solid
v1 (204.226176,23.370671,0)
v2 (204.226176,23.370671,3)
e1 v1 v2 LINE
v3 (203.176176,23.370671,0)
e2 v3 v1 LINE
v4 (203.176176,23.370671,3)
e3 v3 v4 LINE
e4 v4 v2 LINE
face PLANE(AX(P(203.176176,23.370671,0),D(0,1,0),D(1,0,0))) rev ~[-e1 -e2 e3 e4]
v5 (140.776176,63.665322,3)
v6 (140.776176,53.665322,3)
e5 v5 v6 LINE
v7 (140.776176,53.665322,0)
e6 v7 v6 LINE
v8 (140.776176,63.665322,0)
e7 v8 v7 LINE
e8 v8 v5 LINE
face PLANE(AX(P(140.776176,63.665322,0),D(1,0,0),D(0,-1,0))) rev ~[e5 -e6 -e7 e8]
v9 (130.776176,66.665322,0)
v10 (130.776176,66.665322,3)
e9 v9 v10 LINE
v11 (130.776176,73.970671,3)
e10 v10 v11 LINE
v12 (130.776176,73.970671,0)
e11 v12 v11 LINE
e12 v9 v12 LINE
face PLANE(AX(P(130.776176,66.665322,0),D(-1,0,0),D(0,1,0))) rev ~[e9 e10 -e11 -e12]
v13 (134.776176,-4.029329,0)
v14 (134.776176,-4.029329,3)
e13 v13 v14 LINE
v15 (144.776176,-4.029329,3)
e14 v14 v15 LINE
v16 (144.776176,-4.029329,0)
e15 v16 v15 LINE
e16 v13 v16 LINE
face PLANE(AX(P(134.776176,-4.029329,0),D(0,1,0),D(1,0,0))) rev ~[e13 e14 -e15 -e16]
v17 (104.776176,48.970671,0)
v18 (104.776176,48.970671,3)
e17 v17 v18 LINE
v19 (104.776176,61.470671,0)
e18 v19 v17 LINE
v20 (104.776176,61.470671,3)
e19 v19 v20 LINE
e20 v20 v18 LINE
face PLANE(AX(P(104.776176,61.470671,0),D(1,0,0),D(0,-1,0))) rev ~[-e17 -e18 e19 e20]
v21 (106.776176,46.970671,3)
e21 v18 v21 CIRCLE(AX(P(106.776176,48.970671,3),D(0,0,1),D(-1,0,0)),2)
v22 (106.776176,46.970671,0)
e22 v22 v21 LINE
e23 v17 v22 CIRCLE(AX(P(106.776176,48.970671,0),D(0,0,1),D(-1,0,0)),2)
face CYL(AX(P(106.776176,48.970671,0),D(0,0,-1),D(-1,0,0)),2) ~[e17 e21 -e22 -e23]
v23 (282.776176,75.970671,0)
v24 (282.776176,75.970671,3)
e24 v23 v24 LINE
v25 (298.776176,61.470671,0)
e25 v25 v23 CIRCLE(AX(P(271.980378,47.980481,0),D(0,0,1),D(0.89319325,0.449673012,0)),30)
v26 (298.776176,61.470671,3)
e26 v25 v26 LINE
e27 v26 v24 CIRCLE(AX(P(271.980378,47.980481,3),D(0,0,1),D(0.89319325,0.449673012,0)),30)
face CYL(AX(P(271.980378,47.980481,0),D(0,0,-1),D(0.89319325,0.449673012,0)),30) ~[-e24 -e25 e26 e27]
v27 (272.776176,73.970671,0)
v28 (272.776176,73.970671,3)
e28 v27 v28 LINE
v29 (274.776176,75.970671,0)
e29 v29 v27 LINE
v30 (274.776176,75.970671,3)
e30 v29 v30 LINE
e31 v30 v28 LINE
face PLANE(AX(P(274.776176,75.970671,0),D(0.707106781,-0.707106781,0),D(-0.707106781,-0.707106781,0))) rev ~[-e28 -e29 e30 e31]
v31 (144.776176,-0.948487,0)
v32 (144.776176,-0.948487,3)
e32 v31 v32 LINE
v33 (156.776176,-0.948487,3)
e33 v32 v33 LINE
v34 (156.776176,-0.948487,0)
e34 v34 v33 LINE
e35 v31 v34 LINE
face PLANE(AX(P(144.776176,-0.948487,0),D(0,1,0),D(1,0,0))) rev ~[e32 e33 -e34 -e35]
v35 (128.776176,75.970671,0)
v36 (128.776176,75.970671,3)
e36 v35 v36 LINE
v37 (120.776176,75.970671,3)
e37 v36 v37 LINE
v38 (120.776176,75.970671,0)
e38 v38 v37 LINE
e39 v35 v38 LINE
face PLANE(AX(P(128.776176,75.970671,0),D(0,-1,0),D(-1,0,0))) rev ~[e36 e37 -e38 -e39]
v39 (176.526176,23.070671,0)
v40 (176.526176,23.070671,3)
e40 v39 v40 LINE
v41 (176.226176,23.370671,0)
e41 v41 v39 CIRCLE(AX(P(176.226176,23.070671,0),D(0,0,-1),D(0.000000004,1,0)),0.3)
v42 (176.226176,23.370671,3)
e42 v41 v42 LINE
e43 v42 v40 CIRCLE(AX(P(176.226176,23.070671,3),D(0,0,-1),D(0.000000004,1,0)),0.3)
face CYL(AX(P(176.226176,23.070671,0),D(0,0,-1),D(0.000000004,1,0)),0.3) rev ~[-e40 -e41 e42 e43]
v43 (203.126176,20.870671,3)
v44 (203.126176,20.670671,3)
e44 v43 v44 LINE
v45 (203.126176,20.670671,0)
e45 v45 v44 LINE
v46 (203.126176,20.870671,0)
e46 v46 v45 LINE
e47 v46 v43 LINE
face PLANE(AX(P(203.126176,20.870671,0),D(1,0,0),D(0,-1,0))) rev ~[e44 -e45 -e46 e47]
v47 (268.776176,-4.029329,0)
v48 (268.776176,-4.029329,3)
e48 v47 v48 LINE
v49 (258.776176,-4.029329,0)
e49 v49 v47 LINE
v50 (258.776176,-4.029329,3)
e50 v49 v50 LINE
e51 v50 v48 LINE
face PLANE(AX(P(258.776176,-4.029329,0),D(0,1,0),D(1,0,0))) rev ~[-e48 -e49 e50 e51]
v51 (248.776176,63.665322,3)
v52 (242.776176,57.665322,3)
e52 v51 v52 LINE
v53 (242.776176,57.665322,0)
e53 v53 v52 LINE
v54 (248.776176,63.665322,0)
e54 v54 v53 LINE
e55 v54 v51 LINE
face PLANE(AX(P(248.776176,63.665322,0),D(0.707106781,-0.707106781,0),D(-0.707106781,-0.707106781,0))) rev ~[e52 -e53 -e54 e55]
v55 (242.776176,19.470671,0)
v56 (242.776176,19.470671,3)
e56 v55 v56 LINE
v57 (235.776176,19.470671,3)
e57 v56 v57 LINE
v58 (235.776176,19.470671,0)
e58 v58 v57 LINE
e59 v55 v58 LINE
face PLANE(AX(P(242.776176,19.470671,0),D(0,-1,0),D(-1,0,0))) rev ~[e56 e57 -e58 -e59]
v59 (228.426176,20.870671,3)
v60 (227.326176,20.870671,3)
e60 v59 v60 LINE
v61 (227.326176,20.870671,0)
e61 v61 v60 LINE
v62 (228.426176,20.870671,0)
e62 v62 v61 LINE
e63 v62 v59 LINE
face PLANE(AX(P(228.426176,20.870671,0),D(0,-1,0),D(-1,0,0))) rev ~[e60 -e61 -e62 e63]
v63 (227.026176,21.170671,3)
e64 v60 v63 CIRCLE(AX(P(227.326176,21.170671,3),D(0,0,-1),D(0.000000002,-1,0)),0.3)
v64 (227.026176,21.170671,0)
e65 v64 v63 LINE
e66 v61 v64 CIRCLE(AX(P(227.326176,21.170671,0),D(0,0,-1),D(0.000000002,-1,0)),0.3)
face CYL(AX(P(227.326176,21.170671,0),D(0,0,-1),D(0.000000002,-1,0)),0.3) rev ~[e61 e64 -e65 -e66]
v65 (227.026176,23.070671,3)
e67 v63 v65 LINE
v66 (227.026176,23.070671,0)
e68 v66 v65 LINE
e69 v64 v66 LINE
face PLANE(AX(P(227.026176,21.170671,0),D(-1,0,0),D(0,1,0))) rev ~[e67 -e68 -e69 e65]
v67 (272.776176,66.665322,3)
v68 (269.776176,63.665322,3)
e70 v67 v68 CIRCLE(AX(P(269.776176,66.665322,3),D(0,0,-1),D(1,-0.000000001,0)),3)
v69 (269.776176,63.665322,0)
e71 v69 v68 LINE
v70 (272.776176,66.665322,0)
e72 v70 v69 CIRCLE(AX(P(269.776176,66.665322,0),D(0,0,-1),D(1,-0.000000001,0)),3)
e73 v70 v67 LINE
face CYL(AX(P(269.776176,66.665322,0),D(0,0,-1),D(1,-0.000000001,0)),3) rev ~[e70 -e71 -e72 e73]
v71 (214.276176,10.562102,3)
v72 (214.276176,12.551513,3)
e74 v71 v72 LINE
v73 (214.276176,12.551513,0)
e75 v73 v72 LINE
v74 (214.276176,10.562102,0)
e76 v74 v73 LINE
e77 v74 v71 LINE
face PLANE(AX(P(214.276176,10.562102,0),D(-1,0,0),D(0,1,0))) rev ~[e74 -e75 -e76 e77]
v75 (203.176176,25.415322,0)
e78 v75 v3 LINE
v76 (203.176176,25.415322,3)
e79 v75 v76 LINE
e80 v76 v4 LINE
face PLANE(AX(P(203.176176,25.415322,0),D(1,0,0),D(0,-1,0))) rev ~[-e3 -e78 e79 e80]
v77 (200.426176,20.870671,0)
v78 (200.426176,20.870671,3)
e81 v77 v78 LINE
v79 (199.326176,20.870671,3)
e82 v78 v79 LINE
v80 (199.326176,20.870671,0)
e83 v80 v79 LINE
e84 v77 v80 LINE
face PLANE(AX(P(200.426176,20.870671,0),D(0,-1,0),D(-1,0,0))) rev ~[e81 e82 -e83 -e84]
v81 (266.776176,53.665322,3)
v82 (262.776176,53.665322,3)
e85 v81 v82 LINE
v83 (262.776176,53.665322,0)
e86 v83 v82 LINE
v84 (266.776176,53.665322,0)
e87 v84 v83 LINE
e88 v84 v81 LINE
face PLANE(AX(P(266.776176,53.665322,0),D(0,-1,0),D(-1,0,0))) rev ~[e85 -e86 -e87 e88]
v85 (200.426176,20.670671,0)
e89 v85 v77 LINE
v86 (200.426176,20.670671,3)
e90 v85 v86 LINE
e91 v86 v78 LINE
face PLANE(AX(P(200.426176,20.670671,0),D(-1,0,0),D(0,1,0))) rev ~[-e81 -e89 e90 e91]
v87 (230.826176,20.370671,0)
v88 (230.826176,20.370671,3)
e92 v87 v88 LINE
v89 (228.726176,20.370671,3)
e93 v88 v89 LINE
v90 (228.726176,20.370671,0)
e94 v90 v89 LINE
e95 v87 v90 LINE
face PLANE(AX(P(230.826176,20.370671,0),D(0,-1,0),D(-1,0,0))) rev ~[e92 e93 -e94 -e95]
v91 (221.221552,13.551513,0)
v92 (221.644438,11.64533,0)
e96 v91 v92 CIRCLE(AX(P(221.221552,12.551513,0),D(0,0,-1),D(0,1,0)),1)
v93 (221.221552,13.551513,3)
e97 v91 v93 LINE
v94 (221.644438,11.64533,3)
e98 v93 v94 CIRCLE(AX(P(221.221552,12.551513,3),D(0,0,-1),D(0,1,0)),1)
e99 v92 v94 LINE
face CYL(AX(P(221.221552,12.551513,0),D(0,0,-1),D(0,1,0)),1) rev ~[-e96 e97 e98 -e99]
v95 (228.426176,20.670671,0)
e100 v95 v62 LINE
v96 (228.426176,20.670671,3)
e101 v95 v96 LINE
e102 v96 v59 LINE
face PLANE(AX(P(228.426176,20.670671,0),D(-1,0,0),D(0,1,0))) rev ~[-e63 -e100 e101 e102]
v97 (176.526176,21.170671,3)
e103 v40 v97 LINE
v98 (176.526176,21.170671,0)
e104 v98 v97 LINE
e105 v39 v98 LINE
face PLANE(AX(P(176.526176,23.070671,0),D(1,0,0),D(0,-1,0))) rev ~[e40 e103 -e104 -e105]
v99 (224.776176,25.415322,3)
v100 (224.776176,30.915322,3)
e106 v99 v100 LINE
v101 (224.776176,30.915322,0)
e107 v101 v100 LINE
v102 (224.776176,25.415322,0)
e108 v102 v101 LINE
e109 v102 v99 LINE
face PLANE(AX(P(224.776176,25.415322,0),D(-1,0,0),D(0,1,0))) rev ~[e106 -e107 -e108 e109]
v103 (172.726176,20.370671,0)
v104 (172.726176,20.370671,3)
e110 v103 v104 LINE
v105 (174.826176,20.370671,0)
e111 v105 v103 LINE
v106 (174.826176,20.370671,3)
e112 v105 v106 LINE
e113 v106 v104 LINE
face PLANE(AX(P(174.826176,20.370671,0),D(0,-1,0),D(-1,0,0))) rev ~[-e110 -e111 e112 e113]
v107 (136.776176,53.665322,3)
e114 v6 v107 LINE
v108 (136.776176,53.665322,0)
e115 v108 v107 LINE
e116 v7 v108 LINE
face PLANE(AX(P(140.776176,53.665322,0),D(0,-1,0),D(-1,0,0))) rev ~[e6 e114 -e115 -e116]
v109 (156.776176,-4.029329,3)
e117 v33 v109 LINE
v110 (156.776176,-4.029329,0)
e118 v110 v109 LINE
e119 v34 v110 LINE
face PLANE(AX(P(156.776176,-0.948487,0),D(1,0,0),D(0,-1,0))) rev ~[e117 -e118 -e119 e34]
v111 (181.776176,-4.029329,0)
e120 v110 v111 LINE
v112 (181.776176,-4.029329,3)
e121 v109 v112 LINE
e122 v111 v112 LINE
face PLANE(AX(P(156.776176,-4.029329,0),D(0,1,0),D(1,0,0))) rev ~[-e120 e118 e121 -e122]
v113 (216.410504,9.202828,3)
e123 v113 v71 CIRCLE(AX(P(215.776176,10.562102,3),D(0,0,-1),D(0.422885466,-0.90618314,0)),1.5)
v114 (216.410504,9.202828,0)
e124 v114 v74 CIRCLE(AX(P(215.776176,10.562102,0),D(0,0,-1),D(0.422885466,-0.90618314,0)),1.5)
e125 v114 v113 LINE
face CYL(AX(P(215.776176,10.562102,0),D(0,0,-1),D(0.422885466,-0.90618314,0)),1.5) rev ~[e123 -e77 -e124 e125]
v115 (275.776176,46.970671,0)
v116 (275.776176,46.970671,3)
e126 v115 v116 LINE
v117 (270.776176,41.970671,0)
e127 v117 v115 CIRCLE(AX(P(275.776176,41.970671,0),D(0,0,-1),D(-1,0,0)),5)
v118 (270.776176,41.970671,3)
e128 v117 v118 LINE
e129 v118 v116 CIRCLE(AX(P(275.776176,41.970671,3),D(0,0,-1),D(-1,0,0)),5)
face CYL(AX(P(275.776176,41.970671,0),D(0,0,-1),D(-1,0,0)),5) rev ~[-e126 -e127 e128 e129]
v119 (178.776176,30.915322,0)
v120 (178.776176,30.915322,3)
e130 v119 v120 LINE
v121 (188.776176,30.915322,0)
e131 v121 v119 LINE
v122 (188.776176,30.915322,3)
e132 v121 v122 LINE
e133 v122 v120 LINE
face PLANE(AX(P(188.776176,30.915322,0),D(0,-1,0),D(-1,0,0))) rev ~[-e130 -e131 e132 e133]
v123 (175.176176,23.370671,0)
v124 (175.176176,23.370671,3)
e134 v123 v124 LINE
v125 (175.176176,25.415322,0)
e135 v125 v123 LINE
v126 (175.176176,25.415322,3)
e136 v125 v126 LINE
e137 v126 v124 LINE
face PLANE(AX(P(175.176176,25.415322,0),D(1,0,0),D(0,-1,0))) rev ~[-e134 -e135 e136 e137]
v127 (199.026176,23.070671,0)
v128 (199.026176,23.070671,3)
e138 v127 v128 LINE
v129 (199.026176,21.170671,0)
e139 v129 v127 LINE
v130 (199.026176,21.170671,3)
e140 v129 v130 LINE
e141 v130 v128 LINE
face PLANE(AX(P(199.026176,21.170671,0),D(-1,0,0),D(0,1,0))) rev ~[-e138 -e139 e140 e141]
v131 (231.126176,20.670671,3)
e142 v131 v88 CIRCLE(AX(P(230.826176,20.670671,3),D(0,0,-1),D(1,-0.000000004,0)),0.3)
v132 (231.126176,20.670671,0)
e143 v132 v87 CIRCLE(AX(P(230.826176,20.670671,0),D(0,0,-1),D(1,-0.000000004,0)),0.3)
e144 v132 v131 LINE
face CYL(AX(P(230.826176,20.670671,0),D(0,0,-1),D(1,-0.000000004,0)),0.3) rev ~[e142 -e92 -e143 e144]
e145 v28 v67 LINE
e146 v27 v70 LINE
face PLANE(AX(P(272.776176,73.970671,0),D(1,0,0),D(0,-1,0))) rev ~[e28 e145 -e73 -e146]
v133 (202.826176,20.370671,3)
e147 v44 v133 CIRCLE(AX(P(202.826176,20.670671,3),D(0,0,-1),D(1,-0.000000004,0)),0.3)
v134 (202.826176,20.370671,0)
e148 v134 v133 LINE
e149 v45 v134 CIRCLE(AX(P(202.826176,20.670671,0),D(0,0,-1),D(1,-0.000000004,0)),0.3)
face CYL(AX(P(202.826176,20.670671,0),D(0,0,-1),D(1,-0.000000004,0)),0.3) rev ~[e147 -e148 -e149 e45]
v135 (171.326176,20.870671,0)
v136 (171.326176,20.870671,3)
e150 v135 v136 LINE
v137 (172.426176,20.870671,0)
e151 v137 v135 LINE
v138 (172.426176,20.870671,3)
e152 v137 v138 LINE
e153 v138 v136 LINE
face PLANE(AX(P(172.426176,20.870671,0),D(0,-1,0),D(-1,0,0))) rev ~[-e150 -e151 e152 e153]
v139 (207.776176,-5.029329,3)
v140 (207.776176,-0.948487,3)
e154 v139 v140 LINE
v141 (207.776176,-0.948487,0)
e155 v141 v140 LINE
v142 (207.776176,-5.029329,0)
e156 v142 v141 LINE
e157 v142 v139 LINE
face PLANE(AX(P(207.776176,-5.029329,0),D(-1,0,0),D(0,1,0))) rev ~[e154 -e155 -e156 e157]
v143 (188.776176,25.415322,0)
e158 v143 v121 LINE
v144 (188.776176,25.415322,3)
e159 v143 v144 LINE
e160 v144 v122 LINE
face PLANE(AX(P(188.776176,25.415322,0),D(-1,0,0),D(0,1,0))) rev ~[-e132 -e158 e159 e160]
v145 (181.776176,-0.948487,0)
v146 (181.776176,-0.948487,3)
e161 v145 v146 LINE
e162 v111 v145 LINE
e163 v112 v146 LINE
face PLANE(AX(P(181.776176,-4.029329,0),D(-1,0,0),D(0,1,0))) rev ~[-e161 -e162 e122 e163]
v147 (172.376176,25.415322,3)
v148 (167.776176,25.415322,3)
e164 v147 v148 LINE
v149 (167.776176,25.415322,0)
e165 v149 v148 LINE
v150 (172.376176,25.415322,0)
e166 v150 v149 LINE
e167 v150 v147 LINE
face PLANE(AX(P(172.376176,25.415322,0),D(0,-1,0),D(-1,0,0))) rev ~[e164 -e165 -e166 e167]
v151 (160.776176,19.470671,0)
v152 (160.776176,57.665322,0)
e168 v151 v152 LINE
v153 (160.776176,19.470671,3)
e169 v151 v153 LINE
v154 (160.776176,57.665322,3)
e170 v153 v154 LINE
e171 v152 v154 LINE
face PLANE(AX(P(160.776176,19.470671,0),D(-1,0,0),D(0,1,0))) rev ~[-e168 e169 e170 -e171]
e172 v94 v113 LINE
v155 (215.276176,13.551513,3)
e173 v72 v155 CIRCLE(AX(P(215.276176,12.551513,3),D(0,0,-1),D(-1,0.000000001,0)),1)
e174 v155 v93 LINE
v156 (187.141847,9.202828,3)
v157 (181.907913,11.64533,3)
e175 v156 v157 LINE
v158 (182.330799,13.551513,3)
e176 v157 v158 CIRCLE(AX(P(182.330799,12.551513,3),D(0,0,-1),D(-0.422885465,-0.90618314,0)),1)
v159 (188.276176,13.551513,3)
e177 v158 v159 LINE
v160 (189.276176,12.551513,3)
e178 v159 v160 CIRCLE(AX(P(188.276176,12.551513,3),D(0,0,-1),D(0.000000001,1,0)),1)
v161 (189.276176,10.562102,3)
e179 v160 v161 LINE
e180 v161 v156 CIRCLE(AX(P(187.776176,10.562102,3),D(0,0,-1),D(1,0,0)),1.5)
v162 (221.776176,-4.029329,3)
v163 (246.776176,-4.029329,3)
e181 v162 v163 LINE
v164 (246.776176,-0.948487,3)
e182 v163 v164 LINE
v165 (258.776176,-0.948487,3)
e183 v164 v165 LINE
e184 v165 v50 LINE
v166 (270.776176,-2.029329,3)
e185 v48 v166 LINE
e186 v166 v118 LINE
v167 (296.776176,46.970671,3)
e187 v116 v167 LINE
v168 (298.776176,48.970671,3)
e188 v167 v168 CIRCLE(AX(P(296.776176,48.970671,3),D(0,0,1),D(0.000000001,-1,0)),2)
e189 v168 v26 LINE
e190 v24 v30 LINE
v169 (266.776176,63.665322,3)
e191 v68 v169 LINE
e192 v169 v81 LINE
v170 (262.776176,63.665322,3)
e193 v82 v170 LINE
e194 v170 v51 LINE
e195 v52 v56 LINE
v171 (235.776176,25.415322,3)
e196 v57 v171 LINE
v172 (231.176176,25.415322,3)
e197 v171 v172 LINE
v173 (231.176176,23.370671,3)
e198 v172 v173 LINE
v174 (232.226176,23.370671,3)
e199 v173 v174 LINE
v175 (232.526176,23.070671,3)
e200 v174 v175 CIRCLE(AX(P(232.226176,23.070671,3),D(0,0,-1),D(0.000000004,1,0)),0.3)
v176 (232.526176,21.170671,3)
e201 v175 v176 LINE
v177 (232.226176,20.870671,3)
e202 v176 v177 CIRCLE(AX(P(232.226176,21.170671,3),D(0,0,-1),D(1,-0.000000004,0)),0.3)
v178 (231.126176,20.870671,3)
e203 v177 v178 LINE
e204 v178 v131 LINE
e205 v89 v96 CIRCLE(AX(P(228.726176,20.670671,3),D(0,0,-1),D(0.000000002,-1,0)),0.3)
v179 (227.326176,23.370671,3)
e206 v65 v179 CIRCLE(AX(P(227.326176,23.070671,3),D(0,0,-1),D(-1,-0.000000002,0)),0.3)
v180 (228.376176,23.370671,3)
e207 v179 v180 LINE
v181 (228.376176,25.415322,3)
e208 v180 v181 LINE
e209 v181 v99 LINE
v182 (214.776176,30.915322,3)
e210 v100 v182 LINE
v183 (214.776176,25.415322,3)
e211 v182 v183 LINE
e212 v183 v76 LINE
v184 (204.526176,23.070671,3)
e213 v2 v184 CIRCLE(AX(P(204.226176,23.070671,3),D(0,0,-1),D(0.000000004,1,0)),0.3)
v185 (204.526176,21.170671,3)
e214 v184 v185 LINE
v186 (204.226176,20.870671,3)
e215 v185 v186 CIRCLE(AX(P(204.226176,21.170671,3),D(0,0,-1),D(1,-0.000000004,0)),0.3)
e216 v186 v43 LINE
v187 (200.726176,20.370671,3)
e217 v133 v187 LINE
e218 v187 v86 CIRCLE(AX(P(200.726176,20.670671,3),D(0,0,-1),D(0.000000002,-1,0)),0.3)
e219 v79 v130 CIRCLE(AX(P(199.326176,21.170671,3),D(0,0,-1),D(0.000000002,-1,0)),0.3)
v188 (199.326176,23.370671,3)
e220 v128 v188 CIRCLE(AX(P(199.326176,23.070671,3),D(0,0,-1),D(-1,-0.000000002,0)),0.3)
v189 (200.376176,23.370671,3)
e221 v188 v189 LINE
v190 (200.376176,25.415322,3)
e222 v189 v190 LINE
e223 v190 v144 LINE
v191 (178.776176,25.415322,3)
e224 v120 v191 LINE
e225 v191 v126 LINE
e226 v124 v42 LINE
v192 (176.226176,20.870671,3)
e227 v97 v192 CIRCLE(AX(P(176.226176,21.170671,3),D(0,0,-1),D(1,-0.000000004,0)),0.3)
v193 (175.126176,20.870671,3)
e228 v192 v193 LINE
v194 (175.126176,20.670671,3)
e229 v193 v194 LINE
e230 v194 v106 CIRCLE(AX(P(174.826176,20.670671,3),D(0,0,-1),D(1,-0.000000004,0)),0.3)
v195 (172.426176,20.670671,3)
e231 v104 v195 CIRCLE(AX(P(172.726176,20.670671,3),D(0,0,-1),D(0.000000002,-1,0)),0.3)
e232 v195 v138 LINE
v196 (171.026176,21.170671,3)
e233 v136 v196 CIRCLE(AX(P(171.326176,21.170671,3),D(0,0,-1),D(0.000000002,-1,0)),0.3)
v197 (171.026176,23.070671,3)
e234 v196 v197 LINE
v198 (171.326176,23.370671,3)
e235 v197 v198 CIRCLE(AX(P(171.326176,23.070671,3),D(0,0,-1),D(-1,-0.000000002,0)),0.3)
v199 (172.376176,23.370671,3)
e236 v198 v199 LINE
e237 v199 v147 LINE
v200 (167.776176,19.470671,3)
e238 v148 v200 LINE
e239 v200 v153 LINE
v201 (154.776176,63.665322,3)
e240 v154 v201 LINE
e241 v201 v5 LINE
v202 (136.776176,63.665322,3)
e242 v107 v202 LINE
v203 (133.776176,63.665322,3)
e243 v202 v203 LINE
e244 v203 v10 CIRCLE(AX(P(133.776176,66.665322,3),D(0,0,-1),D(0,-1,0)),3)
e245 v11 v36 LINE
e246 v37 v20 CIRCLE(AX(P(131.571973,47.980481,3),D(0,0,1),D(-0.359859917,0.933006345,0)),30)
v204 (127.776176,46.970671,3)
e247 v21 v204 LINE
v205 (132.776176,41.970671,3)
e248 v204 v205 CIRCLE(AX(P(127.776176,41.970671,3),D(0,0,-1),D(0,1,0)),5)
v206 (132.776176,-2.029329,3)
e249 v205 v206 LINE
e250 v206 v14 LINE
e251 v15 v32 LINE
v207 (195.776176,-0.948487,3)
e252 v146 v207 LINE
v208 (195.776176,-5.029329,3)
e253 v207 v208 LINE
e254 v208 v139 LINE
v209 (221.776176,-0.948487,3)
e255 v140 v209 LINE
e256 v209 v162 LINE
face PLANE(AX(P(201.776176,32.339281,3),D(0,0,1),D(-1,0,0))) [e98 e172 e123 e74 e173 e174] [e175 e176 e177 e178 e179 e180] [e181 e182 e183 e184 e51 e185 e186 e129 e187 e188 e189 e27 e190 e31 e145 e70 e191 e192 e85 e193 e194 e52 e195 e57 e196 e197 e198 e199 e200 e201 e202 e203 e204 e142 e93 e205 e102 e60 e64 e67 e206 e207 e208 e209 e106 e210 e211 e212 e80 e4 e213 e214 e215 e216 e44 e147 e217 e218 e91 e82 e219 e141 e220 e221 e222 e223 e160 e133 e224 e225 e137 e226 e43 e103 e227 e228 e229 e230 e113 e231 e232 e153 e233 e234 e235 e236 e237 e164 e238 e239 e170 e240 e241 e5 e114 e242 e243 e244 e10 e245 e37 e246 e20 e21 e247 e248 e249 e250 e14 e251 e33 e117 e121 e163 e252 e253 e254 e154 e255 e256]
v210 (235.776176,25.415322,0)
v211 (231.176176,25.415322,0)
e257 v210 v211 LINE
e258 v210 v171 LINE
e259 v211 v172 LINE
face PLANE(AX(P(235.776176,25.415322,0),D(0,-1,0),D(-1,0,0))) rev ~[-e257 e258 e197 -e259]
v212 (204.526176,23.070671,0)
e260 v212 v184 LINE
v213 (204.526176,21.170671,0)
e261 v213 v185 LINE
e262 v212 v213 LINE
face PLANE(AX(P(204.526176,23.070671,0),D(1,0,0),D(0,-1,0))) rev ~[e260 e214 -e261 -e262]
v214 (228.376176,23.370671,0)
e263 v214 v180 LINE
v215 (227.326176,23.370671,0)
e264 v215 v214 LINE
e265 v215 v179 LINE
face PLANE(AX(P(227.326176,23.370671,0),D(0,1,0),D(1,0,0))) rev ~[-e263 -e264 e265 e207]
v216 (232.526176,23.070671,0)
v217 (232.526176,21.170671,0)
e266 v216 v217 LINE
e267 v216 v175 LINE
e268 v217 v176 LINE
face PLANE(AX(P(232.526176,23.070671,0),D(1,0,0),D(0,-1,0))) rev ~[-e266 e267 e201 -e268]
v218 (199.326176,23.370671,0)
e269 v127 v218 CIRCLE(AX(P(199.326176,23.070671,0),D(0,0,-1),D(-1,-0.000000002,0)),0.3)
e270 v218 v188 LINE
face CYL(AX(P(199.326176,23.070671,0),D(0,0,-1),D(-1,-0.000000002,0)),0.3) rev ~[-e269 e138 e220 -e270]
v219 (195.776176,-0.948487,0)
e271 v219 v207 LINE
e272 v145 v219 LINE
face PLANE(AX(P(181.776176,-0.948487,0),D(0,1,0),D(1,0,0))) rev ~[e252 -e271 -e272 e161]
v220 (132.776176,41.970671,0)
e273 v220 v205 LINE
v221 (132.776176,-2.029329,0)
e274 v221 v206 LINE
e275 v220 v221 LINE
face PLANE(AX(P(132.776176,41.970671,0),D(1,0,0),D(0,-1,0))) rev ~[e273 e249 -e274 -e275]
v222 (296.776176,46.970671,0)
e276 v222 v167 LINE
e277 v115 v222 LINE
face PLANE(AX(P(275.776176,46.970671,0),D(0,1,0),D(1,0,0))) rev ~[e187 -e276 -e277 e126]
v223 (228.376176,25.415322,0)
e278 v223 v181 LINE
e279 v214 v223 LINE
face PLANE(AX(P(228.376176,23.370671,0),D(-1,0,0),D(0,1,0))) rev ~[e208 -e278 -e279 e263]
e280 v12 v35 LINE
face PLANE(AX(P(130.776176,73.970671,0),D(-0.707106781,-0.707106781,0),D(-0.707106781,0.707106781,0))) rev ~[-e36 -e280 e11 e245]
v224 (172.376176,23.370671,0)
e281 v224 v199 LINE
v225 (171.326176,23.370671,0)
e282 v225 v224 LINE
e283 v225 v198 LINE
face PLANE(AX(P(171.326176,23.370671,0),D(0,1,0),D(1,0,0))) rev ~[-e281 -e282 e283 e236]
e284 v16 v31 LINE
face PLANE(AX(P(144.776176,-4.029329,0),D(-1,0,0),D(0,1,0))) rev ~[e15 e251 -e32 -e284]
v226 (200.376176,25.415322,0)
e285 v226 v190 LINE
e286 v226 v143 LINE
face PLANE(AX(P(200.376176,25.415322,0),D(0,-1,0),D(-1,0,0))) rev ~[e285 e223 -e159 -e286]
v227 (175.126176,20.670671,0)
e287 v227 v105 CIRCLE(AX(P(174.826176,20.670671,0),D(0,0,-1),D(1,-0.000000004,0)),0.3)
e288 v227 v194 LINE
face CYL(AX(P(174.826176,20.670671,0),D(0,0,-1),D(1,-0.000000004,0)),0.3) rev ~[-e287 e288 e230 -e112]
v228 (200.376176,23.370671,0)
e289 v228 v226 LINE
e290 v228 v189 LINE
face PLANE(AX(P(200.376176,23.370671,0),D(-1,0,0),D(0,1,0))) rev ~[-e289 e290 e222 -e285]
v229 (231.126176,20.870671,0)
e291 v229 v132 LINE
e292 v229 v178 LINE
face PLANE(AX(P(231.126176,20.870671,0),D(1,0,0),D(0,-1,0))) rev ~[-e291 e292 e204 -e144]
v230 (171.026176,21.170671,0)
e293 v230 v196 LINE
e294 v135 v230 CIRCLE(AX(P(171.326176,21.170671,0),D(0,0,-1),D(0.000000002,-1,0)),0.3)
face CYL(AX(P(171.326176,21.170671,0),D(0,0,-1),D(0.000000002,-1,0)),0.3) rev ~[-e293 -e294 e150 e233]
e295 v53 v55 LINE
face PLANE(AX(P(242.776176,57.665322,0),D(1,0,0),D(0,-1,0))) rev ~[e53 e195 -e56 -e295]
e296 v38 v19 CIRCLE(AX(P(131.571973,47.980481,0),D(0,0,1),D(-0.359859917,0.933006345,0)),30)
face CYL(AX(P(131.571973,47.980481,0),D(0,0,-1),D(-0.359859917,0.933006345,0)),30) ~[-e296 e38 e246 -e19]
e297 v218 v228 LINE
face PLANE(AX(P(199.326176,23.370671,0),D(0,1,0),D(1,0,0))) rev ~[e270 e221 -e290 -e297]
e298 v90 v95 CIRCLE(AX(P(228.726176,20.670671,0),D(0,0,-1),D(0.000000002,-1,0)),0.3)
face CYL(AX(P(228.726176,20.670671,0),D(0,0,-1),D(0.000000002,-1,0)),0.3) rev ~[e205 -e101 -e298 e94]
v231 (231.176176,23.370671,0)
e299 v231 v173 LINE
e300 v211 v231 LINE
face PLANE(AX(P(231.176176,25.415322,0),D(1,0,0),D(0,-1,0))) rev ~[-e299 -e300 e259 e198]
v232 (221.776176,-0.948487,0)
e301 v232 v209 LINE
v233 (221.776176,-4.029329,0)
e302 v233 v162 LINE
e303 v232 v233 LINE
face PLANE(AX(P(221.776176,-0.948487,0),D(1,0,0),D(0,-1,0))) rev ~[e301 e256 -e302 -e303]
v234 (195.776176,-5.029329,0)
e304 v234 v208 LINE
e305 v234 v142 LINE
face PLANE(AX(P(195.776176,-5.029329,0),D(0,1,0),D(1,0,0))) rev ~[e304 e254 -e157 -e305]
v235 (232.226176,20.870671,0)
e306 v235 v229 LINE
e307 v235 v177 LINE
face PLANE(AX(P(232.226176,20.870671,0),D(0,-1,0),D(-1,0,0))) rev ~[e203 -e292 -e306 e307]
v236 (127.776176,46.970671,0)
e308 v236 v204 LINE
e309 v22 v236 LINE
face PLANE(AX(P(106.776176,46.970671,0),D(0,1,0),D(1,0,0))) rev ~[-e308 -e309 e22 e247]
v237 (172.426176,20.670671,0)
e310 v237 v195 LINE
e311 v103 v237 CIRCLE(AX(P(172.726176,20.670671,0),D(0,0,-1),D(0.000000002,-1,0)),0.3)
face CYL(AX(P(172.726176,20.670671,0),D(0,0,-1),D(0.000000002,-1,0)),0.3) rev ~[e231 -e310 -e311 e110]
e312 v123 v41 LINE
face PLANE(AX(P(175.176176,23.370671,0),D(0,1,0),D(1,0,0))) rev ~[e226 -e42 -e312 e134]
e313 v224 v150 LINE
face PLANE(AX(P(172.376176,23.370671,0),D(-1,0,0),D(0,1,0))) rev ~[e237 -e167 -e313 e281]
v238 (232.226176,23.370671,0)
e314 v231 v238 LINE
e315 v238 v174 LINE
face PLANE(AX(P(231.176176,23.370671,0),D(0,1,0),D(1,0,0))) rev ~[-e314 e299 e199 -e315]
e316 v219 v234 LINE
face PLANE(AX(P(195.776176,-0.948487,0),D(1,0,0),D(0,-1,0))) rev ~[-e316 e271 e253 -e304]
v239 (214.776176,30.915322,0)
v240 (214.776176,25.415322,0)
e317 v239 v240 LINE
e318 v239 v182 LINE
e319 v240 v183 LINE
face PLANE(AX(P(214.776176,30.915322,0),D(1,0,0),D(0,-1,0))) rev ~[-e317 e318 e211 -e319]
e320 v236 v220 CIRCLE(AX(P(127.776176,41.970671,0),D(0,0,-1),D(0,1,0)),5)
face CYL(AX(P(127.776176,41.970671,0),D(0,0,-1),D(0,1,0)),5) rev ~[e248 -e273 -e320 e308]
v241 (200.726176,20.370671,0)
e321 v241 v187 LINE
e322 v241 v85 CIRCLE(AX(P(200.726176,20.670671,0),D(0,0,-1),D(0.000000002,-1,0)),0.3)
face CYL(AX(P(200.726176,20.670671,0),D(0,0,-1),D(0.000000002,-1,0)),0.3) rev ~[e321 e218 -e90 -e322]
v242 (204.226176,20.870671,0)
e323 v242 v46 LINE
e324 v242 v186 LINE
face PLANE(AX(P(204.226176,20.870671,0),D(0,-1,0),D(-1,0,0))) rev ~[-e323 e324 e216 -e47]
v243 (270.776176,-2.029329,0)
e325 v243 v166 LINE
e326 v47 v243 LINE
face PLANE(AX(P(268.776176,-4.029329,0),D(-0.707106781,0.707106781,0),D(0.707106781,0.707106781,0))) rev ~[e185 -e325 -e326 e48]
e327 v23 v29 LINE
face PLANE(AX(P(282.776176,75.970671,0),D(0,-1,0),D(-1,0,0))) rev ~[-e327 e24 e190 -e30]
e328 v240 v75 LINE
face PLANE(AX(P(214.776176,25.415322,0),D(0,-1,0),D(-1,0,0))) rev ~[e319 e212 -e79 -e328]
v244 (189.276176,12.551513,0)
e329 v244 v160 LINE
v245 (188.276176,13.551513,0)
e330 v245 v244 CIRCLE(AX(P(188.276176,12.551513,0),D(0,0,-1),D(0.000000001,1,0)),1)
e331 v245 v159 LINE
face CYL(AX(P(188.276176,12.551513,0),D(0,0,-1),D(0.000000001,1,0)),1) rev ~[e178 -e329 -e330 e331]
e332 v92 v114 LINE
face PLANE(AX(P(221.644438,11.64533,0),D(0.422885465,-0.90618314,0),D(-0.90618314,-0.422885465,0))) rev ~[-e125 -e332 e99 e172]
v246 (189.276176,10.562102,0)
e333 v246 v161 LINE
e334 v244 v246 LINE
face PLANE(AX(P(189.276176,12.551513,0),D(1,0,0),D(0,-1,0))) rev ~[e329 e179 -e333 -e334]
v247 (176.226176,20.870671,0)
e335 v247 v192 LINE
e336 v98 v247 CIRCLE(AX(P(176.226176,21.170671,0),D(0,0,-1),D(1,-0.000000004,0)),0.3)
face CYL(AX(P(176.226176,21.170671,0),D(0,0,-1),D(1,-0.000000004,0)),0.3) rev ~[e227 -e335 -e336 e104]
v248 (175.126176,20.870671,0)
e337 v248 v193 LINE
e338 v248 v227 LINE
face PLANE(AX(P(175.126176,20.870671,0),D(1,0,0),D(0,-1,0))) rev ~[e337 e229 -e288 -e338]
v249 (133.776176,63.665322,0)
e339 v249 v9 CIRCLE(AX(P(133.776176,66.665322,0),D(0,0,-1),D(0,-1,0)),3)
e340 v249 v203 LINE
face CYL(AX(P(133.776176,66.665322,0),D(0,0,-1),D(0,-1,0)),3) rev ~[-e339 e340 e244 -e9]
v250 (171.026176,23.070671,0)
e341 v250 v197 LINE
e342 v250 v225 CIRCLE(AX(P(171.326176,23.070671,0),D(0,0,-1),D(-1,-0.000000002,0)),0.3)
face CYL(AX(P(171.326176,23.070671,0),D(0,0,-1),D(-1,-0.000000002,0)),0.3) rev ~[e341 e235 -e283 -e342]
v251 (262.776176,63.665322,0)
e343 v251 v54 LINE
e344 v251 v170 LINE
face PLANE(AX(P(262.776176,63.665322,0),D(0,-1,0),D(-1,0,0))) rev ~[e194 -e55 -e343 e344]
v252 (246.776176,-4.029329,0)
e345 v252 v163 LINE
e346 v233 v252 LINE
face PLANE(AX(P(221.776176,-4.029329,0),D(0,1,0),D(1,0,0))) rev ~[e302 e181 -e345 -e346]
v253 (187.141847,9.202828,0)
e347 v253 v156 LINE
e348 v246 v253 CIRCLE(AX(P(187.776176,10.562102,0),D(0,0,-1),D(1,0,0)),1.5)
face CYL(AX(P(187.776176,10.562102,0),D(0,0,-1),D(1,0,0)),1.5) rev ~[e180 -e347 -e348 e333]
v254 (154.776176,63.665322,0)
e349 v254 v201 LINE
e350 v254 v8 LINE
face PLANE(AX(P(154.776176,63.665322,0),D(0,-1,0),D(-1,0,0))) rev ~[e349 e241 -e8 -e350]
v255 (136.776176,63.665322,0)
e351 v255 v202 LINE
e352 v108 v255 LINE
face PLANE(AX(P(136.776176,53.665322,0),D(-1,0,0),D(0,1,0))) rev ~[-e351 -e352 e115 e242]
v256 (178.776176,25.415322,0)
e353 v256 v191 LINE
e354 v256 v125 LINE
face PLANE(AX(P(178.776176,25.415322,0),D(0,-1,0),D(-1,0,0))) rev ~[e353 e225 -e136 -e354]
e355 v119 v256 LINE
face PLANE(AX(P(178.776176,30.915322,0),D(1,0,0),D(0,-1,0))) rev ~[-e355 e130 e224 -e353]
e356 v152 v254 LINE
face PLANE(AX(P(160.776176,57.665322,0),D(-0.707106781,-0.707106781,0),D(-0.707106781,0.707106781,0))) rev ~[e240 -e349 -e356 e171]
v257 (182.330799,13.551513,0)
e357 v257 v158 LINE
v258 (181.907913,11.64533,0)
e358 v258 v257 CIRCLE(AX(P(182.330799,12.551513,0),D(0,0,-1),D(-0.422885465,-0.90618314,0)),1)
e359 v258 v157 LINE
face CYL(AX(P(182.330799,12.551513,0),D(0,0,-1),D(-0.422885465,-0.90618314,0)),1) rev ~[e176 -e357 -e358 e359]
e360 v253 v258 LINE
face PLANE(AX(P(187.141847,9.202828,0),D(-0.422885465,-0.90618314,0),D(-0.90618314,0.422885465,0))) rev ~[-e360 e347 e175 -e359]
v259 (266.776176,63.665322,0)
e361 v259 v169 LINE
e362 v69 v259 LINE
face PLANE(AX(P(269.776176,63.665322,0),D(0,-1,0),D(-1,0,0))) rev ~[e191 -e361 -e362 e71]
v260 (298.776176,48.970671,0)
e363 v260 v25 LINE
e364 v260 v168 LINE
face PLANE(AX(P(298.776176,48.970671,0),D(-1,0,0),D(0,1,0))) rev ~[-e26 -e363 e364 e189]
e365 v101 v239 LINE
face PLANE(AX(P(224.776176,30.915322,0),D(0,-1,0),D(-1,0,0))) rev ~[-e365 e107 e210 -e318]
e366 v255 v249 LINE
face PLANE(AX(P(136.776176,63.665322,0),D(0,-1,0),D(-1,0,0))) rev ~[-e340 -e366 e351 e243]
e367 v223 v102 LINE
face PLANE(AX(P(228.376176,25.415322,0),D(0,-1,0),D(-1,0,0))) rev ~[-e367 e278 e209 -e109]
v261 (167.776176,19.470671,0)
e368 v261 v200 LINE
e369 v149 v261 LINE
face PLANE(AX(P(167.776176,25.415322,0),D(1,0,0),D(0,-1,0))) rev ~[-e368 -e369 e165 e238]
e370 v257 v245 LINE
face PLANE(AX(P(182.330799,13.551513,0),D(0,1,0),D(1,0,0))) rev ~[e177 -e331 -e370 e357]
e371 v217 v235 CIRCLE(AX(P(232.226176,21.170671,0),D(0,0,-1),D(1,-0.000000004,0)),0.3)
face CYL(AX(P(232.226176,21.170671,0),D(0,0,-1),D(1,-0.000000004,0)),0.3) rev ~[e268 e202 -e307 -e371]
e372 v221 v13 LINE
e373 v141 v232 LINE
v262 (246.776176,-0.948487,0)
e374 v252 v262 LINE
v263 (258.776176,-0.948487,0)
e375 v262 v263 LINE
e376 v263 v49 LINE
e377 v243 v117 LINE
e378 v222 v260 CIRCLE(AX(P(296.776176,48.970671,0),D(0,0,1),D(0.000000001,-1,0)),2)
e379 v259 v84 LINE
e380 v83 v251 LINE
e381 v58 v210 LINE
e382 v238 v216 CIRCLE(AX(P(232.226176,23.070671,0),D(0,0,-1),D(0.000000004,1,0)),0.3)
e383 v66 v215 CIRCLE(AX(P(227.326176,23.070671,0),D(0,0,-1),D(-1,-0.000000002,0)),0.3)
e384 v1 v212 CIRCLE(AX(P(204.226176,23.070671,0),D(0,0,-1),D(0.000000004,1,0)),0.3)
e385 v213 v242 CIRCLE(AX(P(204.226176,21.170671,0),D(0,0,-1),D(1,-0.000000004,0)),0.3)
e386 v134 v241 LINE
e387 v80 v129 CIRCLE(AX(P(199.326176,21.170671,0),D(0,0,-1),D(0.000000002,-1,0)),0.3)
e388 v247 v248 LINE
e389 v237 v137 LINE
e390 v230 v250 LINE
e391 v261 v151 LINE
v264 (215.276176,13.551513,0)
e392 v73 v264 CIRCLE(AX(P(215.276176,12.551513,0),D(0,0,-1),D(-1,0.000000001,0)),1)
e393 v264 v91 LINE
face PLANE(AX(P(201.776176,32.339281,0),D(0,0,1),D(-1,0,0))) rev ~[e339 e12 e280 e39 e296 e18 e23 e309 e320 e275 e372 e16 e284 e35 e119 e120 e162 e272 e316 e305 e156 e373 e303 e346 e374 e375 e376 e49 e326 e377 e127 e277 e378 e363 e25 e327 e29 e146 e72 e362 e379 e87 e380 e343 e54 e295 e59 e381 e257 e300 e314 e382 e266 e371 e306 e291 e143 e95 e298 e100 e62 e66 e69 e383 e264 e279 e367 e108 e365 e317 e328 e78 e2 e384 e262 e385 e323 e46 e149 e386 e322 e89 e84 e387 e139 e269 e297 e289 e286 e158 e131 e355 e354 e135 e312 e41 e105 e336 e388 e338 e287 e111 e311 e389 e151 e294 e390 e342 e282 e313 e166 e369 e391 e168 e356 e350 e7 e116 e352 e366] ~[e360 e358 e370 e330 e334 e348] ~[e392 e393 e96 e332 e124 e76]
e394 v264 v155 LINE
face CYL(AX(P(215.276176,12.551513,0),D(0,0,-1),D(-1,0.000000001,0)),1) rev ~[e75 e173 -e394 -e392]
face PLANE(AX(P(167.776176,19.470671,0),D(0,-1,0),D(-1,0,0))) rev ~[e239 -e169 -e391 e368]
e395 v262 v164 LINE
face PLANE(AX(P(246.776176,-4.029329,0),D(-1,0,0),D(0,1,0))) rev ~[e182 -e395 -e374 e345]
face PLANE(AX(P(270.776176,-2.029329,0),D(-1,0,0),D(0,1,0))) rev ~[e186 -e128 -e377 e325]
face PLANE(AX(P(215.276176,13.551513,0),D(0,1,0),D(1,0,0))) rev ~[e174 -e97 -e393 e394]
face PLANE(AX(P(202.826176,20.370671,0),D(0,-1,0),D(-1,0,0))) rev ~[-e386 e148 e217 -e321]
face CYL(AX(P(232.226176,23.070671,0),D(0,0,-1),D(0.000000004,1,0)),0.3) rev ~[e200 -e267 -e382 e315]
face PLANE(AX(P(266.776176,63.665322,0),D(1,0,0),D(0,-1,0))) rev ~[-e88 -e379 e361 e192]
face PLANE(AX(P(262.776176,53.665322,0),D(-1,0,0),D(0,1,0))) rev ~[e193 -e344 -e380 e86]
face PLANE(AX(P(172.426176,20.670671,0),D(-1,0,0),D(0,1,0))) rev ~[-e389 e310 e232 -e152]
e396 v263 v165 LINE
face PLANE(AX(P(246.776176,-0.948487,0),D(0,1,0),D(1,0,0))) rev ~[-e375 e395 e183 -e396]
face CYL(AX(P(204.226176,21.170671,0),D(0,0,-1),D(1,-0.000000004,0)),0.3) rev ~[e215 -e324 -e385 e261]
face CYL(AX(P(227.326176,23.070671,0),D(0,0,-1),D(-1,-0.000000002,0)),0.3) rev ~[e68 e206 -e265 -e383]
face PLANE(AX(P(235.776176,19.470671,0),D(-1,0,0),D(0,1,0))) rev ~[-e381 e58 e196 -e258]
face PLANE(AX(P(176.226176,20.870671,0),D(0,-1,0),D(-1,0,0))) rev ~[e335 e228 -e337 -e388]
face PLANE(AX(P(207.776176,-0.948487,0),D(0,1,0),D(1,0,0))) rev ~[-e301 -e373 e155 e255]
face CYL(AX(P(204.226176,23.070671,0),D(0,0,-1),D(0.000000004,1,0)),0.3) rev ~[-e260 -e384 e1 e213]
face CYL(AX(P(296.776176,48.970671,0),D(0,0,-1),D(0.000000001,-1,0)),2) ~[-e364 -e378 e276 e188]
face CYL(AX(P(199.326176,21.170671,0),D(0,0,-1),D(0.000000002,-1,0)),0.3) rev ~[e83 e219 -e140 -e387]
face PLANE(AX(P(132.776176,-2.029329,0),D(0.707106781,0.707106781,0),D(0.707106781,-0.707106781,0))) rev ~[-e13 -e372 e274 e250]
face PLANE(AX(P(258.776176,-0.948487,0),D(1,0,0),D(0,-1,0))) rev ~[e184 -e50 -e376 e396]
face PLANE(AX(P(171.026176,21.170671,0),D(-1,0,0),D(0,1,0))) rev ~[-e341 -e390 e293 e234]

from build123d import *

# Parameters (mm, degrees)
EXTRUDE_1_DEPTH = 3


with BuildPart() as part:
    # 草图1 → 凸台-拉伸1 (new body)
    with BuildSketch(Plane(origin=(0, 0, 0), x_dir=(-1, 0, 0), z_dir=(0, 0, 1))):
        with BuildLine():
            Line((-132.77617551, 2.029328632), (-134.77617551, 4.029328632))
            Line((-134.77617551, 4.029328632), (-144.77617551, 4.029328632))
            Line((-144.77617551, 4.029328632), (-144.77617551, 0.948486637))
            Line((-144.77617551, 0.948486637), (-156.77617551, 0.948486637))
            Line((-156.77617551, 0.948486637), (-156.77617551, 4.029328632))
            Line((-156.77617551, 4.029328632), (-181.77617551, 4.029328632))
            Line((-181.77617551, 4.029328632), (-181.77617551, 0.948486637))
            Line((-181.77617551, 0.948486637), (-195.77617551, 0.948486637))
            Line((-195.77617551, 0.948486637), (-195.77617551, 5.029328632))
            Line((-195.77617551, 5.029328632), (-207.77617551, 5.029328632))
            Line((-207.77617551, 5.029328632), (-207.77617551, 0.948486637))
            Line((-207.77617551, 0.948486637), (-221.77617551, 0.948486637))
            Line((-221.77617551, 0.948486637), (-221.77617551, 4.029328632))
            Line((-221.77617551, 4.029328632), (-246.77617551, 4.029328632))
            Line((-246.77617551, 4.029328632), (-246.77617551, 0.948486637))
            Line((-246.77617551, 0.948486637), (-258.77617551, 0.948486637))
            Line((-258.77617551, 0.948486637), (-258.77617551, 4.029328632))
            Line((-258.77617551, 4.029328632), (-268.77617551, 4.029328632))
            Line((-268.77617551, 4.029328632), (-270.77617551, 2.029328632))
            Line((-270.77617551, 2.029328632), (-270.77617551, -41.970671368))
            ThreePointArc((-270.77617551, -41.970671368), (-272.240641604, -45.506205274), (-275.77617551, -46.970671368))
            Line((-275.77617551, -46.970671368), (-296.77617551, -46.970671368))
            ThreePointArc((-296.77617551, -46.970671368), (-298.190389072, -47.556457806), (-298.77617551, -48.970671368))
            Line((-298.77617551, -48.970671368), (-298.77617551, -61.470671368))
            ThreePointArc((-298.77617551, -61.470671368), (-292.125960742, -70.210089556), (-282.77617551, -75.970671368))
            Line((-282.77617551, -75.970671368), (-274.77617551, -75.970671368))
            Line((-274.77617551, -75.970671368), (-272.77617551, -73.970671368))
            Line((-272.77617551, -73.970671368), (-272.77617551, -66.665321612))
            ThreePointArc((-272.77617551, -66.665321612), (-271.897495853, -64.544001269), (-269.77617551, -63.665321612))
            Line((-269.77617551, -63.665321612), (-266.77617551, -63.665321612))
            Line((-266.77617551, -63.665321612), (-266.77617551, -53.665321612))
            Line((-266.77617551, -53.665321612), (-262.77617551, -53.665321612))
            Line((-262.77617551, -53.665321612), (-262.77617551, -63.665321612))
            Line((-262.77617551, -63.665321612), (-248.77617551, -63.665321612))
            Line((-248.77617551, -63.665321612), (-242.77617551, -57.665321612))
            Line((-242.77617551, -57.665321612), (-242.77617551, -19.470671368))
            Line((-242.77617551, -19.470671368), (-235.77617551, -19.470671368))
            Line((-235.77617551, -19.470671368), (-235.77617551, -25.415321612))
            Line((-235.77617551, -25.415321612), (-231.17617551, -25.415321612))
            Line((-231.17617551, -25.415321612), (-231.17617551, -23.370671368))
            Line((-231.17617551, -23.370671368), (-232.22617551, -23.370671368))
            ThreePointArc((-232.22617551, -23.370671368), (-232.438307544, -23.282803402), (-232.52617551, -23.070671368))
            Line((-232.52617551, -23.070671368), (-232.52617551, -21.170671368))
            ThreePointArc((-232.52617551, -21.170671368), (-232.438307544, -20.958539334), (-232.22617551, -20.870671368))
            Line((-232.22617551, -20.870671368), (-231.12617551, -20.870671368))
            Line((-231.12617551, -20.870671368), (-231.12617551, -20.670671368))
            ThreePointArc((-231.12617551, -20.670671368), (-231.038307544, -20.458539334), (-230.82617551, -20.370671368))
            Line((-230.82617551, -20.370671368), (-228.72617551, -20.370671368))
            ThreePointArc((-228.72617551, -20.370671368), (-228.514043475, -20.458539334), (-228.42617551, -20.670671368))
            Line((-228.42617551, -20.670671368), (-228.42617551, -20.870671368))
            Line((-228.42617551, -20.870671368), (-227.32617551, -20.870671368))
            ThreePointArc((-227.32617551, -20.870671368), (-227.114043475, -20.958539334), (-227.02617551, -21.170671368))
            Line((-227.02617551, -21.170671368), (-227.02617551, -23.070671368))
            ThreePointArc((-227.02617551, -23.070671368), (-227.114043475, -23.282803402), (-227.32617551, -23.370671368))
            Line((-227.32617551, -23.370671368), (-228.37617551, -23.370671368))
            Line((-228.37617551, -23.370671368), (-228.37617551, -25.415321612))
            Line((-228.37617551, -25.415321612), (-224.77617551, -25.415321612))
            Line((-224.77617551, -25.415321612), (-224.77617551, -30.915321612))
            Line((-224.77617551, -30.915321612), (-214.77617551, -30.915321612))
            Line((-214.77617551, -30.915321612), (-214.77617551, -25.415321612))
            Line((-214.77617551, -25.415321612), (-203.17617551, -25.415321612))
            Line((-203.17617551, -25.415321612), (-203.17617551, -23.370671368))
            Line((-203.17617551, -23.370671368), (-204.22617551, -23.370671368))
            ThreePointArc((-204.22617551, -23.370671368), (-204.438307544, -23.282803402), (-204.52617551, -23.070671368))
            Line((-204.52617551, -23.070671368), (-204.52617551, -21.170671368))
            ThreePointArc((-204.52617551, -21.170671368), (-204.438307544, -20.958539334), (-204.22617551, -20.870671368))
            Line((-204.22617551, -20.870671368), (-203.12617551, -20.870671368))
            Line((-203.12617551, -20.870671368), (-203.12617551, -20.670671368))
            ThreePointArc((-203.12617551, -20.670671368), (-203.038307544, -20.458539334), (-202.82617551, -20.370671368))
            Line((-202.82617551, -20.370671368), (-200.72617551, -20.370671368))
            ThreePointArc((-200.72617551, -20.370671368), (-200.514043475, -20.458539334), (-200.42617551, -20.670671368))
            Line((-200.42617551, -20.670671368), (-200.42617551, -20.870671368))
            Line((-200.42617551, -20.870671368), (-199.32617551, -20.870671368))
            ThreePointArc((-199.32617551, -20.870671368), (-199.114043475, -20.958539334), (-199.02617551, -21.170671368))
            Line((-199.02617551, -21.170671368), (-199.02617551, -23.070671368))
            ThreePointArc((-199.02617551, -23.070671368), (-199.114043475, -23.282803402), (-199.32617551, -23.370671368))
            Line((-199.32617551, -23.370671368), (-200.37617551, -23.370671368))
            Line((-200.37617551, -23.370671368), (-200.37617551, -25.415321612))
            Line((-200.37617551, -25.415321612), (-188.77617551, -25.415321612))
            Line((-188.77617551, -25.415321612), (-188.77617551, -30.915321612))
            Line((-188.77617551, -30.915321612), (-178.77617551, -30.915321612))
            Line((-178.77617551, -30.915321612), (-178.77617551, -25.415321612))
            Line((-178.77617551, -25.415321612), (-175.17617551, -25.415321612))
            Line((-175.17617551, -25.415321612), (-175.17617551, -23.370671368))
            Line((-175.17617551, -23.370671368), (-176.22617551, -23.370671368))
            ThreePointArc((-176.22617551, -23.370671368), (-176.438307544, -23.282803402), (-176.52617551, -23.070671368))
            Line((-176.52617551, -23.070671368), (-176.52617551, -21.170671368))
            ThreePointArc((-176.52617551, -21.170671368), (-176.438307544, -20.958539334), (-176.22617551, -20.870671368))
            Line((-176.22617551, -20.870671368), (-175.12617551, -20.870671368))
            Line((-175.12617551, -20.870671368), (-175.12617551, -20.670671368))
            ThreePointArc((-175.12617551, -20.670671368), (-175.038307544, -20.458539334), (-174.82617551, -20.370671368))
            Line((-174.82617551, -20.370671368), (-172.72617551, -20.370671368))
            ThreePointArc((-172.72617551, -20.370671368), (-172.514043475, -20.458539334), (-172.42617551, -20.670671368))
            Line((-172.42617551, -20.670671368), (-172.42617551, -20.870671368))
            Line((-172.42617551, -20.870671368), (-171.32617551, -20.870671368))
            ThreePointArc((-171.32617551, -20.870671368), (-171.114043475, -20.958539334), (-171.02617551, -21.170671368))
            Line((-171.02617551, -21.170671368), (-171.02617551, -23.070671368))
            ThreePointArc((-171.02617551, -23.070671368), (-171.114043475, -23.282803402), (-171.32617551, -23.370671368))
            Line((-171.32617551, -23.370671368), (-172.37617551, -23.370671368))
            Line((-172.37617551, -23.370671368), (-172.37617551, -25.415321612))
            Line((-172.37617551, -25.415321612), (-167.77617551, -25.415321612))
            Line((-167.77617551, -25.415321612), (-167.77617551, -19.470671368))
            Line((-167.77617551, -19.470671368), (-160.77617551, -19.470671368))
            Line((-160.77617551, -19.470671368), (-160.77617551, -57.665321612))
            Line((-160.77617551, -57.665321612), (-154.77617551, -63.665321612))
            Line((-154.77617551, -63.665321612), (-140.77617551, -63.665321612))
            Line((-140.77617551, -63.665321612), (-140.77617551, -53.665321612))
            Line((-140.77617551, -53.665321612), (-136.77617551, -53.665321612))
            Line((-136.77617551, -53.665321612), (-136.77617551, -63.665321612))
            Line((-136.77617551, -63.665321612), (-133.77617551, -63.665321612))
            ThreePointArc((-133.77617551, -63.665321612), (-131.654855166, -64.544001269), (-130.77617551, -66.665321612))
            Line((-130.77617551, -66.665321612), (-130.77617551, -73.970671368))
            Line((-130.77617551, -73.970671368), (-128.77617551, -75.970671368))
            Line((-128.77617551, -75.970671368), (-120.77617551, -75.970671368))
            ThreePointArc((-120.77617551, -75.970671368), (-111.426390277, -70.210089556), (-104.77617551, -61.470671368))
            Line((-104.77617551, -61.470671368), (-104.77617551, -48.970671368))
            ThreePointArc((-104.77617551, -48.970671368), (-105.361961947, -47.556457806), (-106.77617551, -46.970671368))
            Line((-106.77617551, -46.970671368), (-127.77617551, -46.970671368))
            ThreePointArc((-127.77617551, -46.970671368), (-131.311709416, -45.506205274), (-132.77617551, -41.970671368))
            Line((-132.77617551, -41.970671368), (-132.77617551, 2.029328632))
        make_face()
        with BuildLine():
            Line((-187.141847312, -9.202827725), (-181.907913386, -11.645330223))
            ThreePointArc((-181.907913386, -11.645330223), (-181.354534763, -12.768096904), (-182.330798852, -13.551513363))
            Line((-182.330798852, -13.551513363), (-188.27617551, -13.551513363))
            ThreePointArc((-188.27617551, -13.551513363), (-188.983282291, -13.258620144), (-189.27617551, -12.551513363))
            Line((-189.27617551, -12.551513363), (-189.27617551, -10.562102435))
            ThreePointArc((-189.27617551, -10.562102435), (-188.58193841, -9.296896464), (-187.141847312, -9.202827725))
        make_face(mode=Mode.SUBTRACT)
        with BuildLine():
            Line((-221.644437633, -11.645330223), (-216.410503708, -9.202827725))
            ThreePointArc((-216.410503708, -9.202827725), (-214.970412609, -9.296896464), (-214.27617551, -10.562102435))
            Line((-214.27617551, -10.562102435), (-214.27617551, -12.551513363))
            ThreePointArc((-214.27617551, -12.551513363), (-214.569068729, -13.258620144), (-215.27617551, -13.551513363))
            Line((-215.27617551, -13.551513363), (-221.221552168, -13.551513363))
            ThreePointArc((-221.221552168, -13.551513363), (-222.197816256, -12.768096904), (-221.644437633, -11.645330223))
        make_face(mode=Mode.SUBTRACT)
    extrude(amount=EXTRUDE_1_DEPTH)


solid = part.part
